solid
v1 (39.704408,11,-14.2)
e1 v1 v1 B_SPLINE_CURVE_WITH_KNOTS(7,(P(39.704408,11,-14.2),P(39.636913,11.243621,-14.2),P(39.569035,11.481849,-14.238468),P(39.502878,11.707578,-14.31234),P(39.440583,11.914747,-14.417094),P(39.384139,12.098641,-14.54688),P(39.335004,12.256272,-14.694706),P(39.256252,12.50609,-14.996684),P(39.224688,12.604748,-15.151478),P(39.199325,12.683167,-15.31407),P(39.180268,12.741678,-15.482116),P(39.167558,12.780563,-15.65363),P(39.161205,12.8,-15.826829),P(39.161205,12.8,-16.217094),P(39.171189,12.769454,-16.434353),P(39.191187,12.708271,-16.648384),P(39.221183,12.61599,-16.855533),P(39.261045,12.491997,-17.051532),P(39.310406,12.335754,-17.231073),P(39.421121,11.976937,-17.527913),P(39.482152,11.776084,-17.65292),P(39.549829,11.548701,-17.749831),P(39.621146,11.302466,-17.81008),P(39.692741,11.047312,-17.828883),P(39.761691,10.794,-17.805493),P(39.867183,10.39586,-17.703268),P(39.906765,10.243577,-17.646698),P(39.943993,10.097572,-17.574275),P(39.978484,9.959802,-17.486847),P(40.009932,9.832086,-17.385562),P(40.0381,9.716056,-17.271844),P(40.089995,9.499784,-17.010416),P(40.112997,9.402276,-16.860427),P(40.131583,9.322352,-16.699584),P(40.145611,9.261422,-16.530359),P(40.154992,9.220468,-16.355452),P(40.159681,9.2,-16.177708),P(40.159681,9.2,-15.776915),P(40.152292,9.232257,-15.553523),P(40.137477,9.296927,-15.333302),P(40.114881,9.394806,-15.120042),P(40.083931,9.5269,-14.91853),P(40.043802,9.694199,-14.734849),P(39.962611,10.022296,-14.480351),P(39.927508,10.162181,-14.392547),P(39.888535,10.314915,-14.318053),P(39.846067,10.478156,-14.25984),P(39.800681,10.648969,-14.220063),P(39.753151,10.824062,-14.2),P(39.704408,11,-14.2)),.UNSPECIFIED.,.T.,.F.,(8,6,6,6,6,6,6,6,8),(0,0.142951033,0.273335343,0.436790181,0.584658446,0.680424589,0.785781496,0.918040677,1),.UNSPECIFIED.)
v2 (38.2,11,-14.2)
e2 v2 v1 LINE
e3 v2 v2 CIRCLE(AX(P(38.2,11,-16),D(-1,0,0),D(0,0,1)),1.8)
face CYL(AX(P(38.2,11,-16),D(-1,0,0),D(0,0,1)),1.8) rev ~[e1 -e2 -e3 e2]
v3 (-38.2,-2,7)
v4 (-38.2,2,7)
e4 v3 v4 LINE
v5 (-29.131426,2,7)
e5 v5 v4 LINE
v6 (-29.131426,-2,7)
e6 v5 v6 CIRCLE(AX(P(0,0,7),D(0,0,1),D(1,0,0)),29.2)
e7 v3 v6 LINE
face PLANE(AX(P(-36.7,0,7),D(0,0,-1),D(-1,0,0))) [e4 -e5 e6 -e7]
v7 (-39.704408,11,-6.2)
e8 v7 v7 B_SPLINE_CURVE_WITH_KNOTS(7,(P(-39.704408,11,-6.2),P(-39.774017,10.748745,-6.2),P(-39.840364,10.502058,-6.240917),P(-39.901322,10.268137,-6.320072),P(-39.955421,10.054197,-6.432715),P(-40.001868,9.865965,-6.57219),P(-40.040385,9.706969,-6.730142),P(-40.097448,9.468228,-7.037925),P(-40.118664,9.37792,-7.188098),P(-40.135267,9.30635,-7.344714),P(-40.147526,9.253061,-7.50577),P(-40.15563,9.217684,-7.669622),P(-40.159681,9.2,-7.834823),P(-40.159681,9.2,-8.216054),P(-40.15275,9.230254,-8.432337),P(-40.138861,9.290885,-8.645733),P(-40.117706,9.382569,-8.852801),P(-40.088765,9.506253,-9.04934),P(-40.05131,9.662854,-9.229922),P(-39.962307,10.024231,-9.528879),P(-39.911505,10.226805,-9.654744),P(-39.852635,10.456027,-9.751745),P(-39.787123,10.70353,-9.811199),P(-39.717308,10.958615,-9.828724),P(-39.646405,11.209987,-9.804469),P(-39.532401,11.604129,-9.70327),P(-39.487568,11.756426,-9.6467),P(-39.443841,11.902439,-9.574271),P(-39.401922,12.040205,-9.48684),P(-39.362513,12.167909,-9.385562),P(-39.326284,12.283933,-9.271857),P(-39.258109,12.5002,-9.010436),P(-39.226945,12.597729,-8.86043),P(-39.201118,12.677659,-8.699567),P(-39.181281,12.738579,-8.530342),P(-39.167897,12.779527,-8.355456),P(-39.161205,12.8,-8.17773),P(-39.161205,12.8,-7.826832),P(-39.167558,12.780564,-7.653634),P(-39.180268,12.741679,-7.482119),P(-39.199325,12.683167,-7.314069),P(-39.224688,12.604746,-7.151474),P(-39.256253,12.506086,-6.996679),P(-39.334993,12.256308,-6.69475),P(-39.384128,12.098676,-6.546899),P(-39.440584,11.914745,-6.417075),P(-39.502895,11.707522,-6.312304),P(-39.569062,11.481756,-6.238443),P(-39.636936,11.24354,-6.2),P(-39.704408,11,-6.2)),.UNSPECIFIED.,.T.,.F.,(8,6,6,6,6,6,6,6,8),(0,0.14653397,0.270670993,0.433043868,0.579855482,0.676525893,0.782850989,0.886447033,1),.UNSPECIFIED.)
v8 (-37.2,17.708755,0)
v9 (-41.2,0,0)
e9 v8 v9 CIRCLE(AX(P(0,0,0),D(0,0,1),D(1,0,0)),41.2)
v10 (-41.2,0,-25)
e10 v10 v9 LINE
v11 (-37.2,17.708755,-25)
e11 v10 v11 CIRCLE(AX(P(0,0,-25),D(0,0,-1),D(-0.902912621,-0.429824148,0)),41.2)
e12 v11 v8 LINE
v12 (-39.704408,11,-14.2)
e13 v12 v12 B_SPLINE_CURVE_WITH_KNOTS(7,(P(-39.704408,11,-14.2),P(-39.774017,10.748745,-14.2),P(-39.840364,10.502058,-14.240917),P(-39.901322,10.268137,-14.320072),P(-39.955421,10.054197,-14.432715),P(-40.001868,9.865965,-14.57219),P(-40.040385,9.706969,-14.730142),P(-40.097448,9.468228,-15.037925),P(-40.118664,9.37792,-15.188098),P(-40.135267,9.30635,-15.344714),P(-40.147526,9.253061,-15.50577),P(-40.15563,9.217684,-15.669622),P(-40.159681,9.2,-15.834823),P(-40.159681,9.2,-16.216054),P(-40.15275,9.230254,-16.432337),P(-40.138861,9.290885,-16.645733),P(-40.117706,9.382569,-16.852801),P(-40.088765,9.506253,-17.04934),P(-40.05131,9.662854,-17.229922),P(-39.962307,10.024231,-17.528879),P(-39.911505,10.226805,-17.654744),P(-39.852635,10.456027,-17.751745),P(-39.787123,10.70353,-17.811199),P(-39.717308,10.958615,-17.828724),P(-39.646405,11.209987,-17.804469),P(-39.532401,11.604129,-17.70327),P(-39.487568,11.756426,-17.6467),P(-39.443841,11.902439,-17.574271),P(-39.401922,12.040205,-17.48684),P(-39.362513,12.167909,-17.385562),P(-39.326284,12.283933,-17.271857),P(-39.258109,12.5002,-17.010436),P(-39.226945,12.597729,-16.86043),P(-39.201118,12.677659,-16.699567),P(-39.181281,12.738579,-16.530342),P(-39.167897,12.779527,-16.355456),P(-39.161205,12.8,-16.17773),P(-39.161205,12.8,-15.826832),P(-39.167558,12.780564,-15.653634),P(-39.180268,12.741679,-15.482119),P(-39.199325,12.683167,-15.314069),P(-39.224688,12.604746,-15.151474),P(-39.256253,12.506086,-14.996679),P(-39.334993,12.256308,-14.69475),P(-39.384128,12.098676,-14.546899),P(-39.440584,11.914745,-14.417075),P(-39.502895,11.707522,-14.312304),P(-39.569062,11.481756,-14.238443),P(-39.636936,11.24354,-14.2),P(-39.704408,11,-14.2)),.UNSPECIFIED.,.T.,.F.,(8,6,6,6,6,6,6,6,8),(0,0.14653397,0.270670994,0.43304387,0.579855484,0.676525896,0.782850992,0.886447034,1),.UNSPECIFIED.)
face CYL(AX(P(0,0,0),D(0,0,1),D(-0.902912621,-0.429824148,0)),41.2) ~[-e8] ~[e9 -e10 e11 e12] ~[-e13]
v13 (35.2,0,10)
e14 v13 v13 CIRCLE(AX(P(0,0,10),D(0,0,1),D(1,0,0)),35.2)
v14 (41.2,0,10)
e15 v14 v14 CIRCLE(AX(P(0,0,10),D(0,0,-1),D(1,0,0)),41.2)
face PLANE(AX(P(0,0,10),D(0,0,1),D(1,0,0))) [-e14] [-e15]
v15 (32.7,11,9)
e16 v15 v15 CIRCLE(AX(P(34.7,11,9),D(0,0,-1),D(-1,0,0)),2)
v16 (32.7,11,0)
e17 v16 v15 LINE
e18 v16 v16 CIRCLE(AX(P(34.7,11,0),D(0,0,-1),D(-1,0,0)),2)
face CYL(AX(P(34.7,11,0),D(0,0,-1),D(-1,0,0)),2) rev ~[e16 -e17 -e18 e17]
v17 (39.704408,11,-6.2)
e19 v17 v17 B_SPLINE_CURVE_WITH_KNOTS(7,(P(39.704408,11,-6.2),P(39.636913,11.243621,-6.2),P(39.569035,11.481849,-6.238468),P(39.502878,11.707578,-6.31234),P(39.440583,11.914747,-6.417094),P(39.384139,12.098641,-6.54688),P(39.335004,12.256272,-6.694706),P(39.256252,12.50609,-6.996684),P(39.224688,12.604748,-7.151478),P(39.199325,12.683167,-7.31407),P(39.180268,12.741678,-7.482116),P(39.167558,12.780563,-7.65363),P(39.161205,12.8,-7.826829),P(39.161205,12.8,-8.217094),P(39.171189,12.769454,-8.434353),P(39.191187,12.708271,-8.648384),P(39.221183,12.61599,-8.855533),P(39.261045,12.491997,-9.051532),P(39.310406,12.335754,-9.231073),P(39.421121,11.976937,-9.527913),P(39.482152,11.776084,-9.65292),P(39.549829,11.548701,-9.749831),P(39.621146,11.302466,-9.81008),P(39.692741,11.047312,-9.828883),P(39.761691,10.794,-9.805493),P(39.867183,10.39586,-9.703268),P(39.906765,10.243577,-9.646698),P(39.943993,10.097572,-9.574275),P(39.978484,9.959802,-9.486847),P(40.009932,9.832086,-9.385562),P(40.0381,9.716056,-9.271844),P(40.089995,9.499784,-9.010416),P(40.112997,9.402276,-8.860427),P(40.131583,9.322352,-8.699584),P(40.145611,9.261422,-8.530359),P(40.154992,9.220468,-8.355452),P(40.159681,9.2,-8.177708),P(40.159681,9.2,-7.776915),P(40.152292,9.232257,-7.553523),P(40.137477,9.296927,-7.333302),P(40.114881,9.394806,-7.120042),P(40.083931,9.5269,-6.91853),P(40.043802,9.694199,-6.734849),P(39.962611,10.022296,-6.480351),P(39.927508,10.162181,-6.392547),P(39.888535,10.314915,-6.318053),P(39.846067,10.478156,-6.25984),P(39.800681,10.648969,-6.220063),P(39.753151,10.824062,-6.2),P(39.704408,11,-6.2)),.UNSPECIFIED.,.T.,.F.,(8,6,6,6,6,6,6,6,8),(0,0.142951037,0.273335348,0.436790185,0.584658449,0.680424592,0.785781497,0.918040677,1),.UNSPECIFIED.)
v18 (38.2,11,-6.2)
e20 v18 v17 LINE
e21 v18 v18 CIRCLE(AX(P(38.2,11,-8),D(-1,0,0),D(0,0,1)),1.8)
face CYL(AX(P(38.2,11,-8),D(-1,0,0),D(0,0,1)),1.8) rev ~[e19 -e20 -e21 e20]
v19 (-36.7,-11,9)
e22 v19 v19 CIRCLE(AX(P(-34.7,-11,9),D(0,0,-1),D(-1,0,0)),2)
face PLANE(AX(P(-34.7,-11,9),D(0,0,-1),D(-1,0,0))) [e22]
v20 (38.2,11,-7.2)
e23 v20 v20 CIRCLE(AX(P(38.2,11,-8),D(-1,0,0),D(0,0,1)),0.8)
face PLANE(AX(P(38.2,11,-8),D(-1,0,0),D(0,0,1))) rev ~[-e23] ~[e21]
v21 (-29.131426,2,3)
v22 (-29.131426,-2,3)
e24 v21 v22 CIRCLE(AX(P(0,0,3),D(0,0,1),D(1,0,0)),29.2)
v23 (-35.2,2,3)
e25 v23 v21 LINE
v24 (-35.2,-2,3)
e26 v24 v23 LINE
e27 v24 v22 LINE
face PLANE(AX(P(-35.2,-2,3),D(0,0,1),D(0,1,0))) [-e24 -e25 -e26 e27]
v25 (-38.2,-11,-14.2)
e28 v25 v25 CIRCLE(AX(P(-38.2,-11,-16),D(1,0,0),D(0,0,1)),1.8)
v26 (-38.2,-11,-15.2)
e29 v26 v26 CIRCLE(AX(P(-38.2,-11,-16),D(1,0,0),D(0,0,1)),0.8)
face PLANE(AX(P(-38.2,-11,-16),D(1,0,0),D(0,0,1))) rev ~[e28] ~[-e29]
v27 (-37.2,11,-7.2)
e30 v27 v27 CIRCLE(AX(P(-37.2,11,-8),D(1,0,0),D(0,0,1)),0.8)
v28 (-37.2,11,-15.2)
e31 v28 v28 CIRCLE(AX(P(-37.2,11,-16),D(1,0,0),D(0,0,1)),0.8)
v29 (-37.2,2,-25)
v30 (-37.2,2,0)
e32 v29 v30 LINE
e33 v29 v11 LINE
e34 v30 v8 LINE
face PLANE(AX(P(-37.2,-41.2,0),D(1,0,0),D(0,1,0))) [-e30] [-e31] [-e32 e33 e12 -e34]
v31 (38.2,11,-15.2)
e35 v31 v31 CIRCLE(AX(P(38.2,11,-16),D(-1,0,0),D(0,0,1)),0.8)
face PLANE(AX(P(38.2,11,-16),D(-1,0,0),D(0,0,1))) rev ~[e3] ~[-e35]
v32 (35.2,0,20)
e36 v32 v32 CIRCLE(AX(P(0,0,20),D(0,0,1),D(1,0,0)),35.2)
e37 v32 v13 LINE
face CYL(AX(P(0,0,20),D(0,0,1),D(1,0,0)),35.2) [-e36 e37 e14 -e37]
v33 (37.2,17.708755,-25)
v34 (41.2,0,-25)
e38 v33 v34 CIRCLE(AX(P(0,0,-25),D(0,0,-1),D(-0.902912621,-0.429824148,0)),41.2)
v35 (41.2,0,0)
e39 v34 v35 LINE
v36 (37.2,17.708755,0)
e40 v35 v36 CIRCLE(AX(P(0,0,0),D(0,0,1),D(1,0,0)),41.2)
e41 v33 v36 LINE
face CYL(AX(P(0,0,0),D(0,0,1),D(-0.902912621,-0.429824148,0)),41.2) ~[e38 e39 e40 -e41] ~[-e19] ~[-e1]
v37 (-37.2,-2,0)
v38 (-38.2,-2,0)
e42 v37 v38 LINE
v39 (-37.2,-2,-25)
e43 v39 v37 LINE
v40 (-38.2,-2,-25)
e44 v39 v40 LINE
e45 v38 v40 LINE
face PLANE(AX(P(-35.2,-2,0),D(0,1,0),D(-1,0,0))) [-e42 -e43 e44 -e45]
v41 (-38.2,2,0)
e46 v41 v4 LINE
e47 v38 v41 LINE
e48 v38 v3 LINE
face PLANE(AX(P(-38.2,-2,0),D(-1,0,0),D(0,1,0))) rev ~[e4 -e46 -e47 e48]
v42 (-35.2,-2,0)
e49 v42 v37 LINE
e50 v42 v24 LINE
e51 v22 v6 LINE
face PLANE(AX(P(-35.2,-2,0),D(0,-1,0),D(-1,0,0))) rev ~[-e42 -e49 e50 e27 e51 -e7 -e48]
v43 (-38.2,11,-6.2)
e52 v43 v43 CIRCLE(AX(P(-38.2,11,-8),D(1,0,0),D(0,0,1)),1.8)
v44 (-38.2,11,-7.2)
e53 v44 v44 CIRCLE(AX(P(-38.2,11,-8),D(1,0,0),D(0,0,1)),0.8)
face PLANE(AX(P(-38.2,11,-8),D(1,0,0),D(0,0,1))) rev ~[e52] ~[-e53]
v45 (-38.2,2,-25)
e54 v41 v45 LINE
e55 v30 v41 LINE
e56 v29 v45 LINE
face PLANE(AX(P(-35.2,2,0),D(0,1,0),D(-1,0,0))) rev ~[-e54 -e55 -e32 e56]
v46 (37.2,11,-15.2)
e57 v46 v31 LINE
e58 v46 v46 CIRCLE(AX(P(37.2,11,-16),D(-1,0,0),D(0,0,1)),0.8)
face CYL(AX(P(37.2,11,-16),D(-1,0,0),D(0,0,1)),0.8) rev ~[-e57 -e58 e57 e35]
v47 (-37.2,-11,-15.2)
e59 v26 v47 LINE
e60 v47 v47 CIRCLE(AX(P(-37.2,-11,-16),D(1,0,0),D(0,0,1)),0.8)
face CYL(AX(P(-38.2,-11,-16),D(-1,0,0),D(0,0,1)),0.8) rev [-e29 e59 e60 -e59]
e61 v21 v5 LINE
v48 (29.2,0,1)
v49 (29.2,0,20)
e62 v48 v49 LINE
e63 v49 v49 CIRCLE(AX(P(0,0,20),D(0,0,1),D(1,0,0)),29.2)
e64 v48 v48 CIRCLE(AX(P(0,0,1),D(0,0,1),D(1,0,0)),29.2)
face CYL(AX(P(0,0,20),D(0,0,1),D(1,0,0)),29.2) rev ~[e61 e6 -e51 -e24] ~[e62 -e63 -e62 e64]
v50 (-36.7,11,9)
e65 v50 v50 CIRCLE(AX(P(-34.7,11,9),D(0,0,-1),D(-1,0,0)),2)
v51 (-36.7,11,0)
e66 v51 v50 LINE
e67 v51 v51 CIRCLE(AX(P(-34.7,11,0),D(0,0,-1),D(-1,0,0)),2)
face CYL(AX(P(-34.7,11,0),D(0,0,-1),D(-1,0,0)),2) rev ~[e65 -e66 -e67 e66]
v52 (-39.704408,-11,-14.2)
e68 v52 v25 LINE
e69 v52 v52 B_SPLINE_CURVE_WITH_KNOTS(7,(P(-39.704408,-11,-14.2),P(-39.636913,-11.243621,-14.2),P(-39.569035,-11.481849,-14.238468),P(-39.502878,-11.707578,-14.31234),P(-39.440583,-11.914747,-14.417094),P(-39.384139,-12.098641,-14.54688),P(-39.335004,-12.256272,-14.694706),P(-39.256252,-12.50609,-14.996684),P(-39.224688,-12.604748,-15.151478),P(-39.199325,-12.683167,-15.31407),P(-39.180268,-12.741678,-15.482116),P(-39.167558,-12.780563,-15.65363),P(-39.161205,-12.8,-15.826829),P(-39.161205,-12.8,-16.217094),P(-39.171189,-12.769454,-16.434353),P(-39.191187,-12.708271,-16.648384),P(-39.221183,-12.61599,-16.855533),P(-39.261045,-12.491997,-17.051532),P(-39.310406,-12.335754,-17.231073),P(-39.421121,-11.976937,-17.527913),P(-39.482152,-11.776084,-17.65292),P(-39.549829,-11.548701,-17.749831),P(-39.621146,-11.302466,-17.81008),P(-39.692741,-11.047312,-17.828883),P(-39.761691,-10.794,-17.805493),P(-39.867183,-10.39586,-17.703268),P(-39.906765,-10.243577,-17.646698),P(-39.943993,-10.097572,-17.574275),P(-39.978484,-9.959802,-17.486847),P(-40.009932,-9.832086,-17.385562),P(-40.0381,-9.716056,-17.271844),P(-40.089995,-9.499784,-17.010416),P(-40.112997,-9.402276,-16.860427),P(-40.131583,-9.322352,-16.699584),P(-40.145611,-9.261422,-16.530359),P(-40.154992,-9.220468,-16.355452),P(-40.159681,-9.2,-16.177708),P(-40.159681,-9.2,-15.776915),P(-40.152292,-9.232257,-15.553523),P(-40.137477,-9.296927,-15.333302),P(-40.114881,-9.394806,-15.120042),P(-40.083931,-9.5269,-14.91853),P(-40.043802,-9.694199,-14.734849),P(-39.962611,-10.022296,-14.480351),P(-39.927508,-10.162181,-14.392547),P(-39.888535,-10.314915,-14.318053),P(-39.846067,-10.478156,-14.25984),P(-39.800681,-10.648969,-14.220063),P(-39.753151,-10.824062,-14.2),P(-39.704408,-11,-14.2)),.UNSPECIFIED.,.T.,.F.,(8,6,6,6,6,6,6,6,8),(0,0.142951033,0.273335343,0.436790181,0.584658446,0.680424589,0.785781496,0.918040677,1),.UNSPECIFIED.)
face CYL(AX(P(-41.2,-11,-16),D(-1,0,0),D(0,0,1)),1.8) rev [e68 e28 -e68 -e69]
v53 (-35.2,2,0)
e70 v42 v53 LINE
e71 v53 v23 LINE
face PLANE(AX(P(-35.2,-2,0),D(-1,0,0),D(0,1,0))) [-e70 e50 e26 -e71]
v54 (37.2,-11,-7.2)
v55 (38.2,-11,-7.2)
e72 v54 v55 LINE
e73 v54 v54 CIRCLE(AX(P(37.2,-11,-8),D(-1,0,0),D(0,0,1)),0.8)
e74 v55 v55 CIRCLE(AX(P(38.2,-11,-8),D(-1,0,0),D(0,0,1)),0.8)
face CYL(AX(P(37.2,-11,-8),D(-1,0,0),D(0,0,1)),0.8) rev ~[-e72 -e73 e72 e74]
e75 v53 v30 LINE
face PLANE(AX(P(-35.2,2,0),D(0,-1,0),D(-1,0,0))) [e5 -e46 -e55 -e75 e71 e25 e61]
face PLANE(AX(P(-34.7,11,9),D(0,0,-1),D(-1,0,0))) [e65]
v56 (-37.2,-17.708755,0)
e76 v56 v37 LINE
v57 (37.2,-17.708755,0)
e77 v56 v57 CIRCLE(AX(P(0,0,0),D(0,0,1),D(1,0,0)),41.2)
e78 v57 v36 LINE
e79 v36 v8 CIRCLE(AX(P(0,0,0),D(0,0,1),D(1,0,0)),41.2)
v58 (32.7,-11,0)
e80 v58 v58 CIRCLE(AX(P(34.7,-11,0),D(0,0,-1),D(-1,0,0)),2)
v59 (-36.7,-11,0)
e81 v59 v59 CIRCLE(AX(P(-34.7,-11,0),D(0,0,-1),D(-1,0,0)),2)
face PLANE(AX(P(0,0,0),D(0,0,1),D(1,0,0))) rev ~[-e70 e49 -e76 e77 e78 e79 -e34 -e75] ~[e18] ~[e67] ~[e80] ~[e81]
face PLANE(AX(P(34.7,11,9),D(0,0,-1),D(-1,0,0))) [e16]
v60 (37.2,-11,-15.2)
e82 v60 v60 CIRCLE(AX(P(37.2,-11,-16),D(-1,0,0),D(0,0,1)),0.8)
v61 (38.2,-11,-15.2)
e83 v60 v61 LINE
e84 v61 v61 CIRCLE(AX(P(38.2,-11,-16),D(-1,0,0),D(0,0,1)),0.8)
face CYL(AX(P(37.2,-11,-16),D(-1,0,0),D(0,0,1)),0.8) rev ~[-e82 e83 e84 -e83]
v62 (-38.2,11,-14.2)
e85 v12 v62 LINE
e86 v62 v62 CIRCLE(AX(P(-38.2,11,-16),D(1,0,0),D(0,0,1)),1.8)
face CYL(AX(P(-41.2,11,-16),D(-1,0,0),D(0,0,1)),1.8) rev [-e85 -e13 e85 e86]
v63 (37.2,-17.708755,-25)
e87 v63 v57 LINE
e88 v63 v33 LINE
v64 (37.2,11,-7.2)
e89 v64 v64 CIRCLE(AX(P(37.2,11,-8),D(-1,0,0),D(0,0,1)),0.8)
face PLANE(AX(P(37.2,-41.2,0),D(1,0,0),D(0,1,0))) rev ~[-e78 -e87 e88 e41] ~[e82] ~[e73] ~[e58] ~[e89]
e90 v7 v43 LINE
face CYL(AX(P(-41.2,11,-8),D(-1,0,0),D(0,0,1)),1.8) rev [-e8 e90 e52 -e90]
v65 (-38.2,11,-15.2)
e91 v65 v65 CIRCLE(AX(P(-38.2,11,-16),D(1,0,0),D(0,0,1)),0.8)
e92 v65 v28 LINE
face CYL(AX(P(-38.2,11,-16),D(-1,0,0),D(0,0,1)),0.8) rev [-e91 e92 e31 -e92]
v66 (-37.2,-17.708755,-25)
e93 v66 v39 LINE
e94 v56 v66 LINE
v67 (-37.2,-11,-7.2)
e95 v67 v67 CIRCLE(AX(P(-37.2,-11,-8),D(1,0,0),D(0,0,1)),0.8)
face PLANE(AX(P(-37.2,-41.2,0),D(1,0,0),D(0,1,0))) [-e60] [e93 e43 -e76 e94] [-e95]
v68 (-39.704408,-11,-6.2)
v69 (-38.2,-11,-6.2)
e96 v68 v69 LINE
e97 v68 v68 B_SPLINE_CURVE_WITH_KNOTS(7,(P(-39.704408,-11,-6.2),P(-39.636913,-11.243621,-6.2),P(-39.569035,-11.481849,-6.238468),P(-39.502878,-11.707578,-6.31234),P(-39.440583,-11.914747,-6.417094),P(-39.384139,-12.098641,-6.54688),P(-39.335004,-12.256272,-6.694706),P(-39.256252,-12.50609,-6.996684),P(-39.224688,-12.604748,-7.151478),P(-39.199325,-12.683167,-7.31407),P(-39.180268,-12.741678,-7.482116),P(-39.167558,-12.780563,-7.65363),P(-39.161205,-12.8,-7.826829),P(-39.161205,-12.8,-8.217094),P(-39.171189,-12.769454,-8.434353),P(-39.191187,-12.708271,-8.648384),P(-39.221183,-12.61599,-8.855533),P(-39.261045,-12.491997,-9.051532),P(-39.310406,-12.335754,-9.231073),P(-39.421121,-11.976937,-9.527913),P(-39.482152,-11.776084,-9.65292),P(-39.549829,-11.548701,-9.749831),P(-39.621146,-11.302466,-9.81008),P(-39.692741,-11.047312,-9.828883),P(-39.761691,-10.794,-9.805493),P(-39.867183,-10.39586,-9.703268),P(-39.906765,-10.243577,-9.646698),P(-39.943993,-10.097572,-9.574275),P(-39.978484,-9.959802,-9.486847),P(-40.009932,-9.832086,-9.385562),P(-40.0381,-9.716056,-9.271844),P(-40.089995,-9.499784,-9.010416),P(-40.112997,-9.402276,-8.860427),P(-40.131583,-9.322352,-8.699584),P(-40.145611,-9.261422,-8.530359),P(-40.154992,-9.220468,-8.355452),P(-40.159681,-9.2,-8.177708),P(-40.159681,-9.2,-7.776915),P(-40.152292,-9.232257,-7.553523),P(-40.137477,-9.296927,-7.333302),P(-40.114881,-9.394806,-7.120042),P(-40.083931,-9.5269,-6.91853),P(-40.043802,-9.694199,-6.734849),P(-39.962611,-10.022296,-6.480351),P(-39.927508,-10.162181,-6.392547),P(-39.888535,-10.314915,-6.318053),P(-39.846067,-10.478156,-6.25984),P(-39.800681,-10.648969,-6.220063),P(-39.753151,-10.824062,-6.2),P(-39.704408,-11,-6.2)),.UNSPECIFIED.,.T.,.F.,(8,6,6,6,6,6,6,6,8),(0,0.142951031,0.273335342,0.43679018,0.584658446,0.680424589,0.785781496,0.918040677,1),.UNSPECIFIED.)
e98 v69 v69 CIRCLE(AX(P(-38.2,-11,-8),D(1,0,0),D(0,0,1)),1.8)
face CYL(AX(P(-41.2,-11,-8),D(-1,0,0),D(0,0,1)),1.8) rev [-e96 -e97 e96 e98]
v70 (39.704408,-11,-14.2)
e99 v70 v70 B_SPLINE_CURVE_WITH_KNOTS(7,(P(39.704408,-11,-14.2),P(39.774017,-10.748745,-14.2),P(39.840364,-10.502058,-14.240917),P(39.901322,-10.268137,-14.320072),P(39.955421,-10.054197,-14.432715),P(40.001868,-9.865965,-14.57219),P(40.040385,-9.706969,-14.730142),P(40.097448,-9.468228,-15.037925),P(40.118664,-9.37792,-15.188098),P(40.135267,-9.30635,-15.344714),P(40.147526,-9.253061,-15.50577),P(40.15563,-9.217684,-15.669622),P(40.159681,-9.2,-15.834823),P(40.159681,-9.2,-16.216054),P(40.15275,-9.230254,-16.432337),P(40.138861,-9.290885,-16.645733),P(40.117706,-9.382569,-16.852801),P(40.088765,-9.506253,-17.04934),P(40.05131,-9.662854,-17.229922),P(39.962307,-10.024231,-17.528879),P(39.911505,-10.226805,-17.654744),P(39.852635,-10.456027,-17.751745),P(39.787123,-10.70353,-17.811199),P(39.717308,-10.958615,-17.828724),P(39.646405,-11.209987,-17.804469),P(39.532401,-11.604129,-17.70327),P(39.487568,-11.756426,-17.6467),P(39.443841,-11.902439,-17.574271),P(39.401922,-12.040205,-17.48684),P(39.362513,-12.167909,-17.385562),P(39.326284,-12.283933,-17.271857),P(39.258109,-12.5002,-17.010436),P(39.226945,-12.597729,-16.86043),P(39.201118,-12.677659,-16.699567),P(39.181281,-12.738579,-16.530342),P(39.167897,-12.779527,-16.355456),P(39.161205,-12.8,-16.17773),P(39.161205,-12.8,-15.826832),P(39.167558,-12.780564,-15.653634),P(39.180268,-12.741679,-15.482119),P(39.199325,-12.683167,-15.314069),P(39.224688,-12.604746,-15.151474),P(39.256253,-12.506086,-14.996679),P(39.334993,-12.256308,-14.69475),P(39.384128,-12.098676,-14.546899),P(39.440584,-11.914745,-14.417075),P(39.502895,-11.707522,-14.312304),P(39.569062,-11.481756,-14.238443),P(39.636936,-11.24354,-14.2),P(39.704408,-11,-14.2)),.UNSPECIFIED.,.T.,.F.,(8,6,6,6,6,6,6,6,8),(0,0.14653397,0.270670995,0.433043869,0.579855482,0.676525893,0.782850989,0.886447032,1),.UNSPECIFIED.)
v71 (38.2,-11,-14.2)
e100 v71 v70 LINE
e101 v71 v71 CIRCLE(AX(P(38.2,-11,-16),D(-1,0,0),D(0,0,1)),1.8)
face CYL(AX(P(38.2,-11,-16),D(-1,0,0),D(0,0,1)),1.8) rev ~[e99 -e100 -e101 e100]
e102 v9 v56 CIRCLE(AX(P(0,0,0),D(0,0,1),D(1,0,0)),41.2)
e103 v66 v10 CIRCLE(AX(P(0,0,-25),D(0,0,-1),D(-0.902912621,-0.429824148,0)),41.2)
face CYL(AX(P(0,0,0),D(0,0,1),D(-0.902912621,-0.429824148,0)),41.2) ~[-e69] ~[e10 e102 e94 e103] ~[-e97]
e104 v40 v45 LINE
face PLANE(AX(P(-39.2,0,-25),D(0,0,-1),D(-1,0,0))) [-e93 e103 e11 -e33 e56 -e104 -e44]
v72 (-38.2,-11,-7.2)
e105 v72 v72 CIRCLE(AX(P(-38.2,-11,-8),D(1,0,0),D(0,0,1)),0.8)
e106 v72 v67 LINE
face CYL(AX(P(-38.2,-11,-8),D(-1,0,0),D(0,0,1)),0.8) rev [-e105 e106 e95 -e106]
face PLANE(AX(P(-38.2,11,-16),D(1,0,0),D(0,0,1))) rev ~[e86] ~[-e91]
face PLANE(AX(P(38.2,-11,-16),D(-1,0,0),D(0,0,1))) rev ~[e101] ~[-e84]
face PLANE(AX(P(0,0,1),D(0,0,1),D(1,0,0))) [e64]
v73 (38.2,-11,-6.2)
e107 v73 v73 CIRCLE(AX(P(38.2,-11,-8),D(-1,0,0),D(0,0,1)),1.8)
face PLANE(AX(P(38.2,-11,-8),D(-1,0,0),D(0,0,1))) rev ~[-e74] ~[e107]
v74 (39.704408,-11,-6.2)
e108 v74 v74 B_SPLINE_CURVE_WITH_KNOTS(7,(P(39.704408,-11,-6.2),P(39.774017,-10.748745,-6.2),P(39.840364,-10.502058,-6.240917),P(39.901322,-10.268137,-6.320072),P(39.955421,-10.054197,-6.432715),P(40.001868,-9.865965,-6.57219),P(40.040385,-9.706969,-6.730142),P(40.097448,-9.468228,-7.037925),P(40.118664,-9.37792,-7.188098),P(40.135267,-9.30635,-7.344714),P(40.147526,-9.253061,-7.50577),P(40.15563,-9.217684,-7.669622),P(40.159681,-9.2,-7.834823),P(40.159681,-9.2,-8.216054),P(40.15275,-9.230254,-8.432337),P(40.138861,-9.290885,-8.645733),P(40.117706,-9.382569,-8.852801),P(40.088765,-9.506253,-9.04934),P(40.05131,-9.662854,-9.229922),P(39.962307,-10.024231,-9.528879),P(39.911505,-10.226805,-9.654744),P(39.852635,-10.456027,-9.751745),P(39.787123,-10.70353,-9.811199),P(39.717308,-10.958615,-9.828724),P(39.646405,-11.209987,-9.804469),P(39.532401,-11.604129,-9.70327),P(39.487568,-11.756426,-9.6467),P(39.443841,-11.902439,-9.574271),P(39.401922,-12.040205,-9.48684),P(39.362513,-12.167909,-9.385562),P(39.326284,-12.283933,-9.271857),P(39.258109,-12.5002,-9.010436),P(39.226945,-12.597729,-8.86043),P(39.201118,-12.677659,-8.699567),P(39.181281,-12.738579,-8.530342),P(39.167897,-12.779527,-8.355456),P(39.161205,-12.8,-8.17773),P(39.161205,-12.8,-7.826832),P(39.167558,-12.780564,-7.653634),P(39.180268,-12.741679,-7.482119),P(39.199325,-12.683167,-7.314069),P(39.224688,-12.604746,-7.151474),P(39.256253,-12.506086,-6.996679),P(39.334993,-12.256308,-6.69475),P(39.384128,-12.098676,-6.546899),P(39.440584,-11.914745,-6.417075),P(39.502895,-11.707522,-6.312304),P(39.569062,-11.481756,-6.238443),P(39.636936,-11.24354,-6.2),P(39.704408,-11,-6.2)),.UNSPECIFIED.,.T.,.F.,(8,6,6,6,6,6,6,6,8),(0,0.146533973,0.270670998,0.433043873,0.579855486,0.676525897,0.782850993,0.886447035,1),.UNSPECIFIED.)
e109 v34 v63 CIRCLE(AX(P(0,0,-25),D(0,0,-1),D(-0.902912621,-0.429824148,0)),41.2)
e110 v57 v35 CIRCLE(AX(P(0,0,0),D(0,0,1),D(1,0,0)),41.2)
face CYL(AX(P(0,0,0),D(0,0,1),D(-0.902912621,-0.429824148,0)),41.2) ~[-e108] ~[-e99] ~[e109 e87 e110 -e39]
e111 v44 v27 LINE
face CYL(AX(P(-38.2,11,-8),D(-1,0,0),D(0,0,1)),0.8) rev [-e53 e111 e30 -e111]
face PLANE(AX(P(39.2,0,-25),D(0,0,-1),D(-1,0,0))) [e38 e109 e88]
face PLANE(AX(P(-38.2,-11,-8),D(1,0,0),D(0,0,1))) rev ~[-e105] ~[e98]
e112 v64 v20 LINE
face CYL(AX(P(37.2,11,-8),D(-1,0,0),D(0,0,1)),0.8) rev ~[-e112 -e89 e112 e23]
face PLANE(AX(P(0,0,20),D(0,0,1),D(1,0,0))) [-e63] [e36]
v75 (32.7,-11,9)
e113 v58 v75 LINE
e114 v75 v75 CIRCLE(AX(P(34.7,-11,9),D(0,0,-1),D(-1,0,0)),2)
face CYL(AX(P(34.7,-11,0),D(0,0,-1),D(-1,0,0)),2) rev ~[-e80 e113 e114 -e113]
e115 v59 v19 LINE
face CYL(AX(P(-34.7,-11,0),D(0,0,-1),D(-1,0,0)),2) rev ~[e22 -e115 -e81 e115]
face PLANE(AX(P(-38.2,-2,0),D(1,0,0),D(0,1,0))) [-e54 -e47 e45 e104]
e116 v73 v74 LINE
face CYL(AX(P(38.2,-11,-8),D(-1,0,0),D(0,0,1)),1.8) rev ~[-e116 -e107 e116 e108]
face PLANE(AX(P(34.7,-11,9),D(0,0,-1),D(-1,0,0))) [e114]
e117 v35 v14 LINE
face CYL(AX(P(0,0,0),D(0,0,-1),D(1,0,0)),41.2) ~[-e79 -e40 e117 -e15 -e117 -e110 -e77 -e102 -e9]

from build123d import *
from build123d.topology import SkipClean

# Parameters (mm, degrees)
SKETCH_1_R           = 41.2
EXTRUDE_1_DEPTH      = 20
SKETCH_2_R           = 29.2
CUT_EXTRUDE_1_DEPTH  = 10
SKETCH_3_OUTSIDE_W   = 108.048
SKETCH_3_OUTSIDE_H   = 108.048
SKETCH_3_OUTSIDE_R   = 35.2
CUT_EXTRUDE_2_DEPTH  = 10
SKETCH_4_R           = 29.2
CUT_EXTRUDE_3_DEPTH  = 9
SKETCH_5_W           = 3
SKETCH_5_H           = 4
CUT_EXTRUDE_4_DEPTH  = 7
SKETCH_6_W           = 4
SKETCH_6_H           = 4
CUT_EXTRUDE_5_DEPTH  = 7
SKETCH_7_W           = 4
SKETCH_7_H           = 82.4
EXTRUDE_2_DEPTH      = 25
SKETCH_8_OUTSIDE_W   = 109.384
SKETCH_8_OUTSIDE_H   = 109.384
SKETCH_8_OUTSIDE_R   = 41.2
CUT_EXTRUDE_6_DEPTH  = 25
SKETCH_9_W           = 3
SKETCH_9_H           = 4
CUT_EXTRUDE_7_DEPTH  = 25
SKETCH_10_R          = 2
CUT_EXTRUDE_8_DEPTH  = 9
SKETCH_11_R          = 0.8
CUT_EXTRUDE_9_DEPTH  = 1
SKETCH_12_R          = 1.8
CUT_EXTRUDE_13_DEPTH = 3
CUT_EXTRUDE_START    = -1
SKETCH_13_R          = 0.8
CUT_EXTRUDE_14_DEPTH = 1
CUT_EXTRUDE_START_2  = -3
SKETCH_14_R          = 1.8
CUT_EXTRUDE_15_DEPTH = 3


with BuildPart() as part:
    # 草图1 → 凸台-拉伸1 (new body)
    with BuildSketch(Plane.XY):
        Circle(SKETCH_1_R)
    extrude(amount=EXTRUDE_1_DEPTH)

    # 草图2 → 切除-拉伸1 (cut)
    with BuildSketch(Plane.XY.offset(20)):
        Circle(SKETCH_2_R)
    extrude(amount=-CUT_EXTRUDE_1_DEPTH, mode=Mode.SUBTRACT)

    # 草图3 outside → 切除-拉伸2 (cut)
    with BuildSketch(Plane.XY.offset(20)):
        Rectangle(SKETCH_3_OUTSIDE_W, SKETCH_3_OUTSIDE_H)
        Circle(SKETCH_3_OUTSIDE_R, mode=Mode.SUBTRACT)
    extrude(amount=-CUT_EXTRUDE_2_DEPTH, mode=Mode.SUBTRACT)

    # 草图4 → 切除-拉伸3 (cut)
    with BuildSketch(Plane.XY.offset(10)):
        Circle(SKETCH_4_R)
    extrude(amount=-CUT_EXTRUDE_3_DEPTH, mode=Mode.SUBTRACT)

    # 草图5 → 切除-拉伸4 (cut)
    with BuildSketch(Plane(origin=(0, 0, 0), x_dir=(-1, 0, 0), z_dir=(0, 0, -1))):
        with Locations((36.7, 0)):
            Rectangle(SKETCH_5_W, SKETCH_5_H)
    extrude(amount=-CUT_EXTRUDE_4_DEPTH, mode=Mode.SUBTRACT)

    # 草图6 → 切除-拉伸5 (cut)
    with BuildSketch(Plane.ZY.offset(35.2)):
        with Locations((5, 0)):
            Rectangle(SKETCH_6_W, SKETCH_6_H)
    extrude(amount=-CUT_EXTRUDE_5_DEPTH, mode=Mode.SUBTRACT)

    # 草图7 → 凸台-拉伸2 (add)
    with BuildSketch(Plane(origin=(0, 0, 0), x_dir=(-1, 0, 0), z_dir=(0, 0, -1))):
        with Locations((39.2, 0)):
            Rectangle(SKETCH_7_W, SKETCH_7_H)
        with Locations((-39.2, 0)):
            Rectangle(SKETCH_7_W, SKETCH_7_H)
    extrude(amount=EXTRUDE_2_DEPTH)

    # 草图8 outside → 切除-拉伸6 (cut)
    with SkipClean():  # the faces are left unmerged after this step: merging them gives an invalid solid
        with BuildSketch(Plane(origin=(0, 0, 0), x_dir=(-1, 0, 0), z_dir=(0, 0, -1))):
            Rectangle(SKETCH_8_OUTSIDE_W, SKETCH_8_OUTSIDE_H)
            with Locations(Location((0, 0, 0), (0, 0, 334.543599349))):
                Circle(SKETCH_8_OUTSIDE_R, mode=Mode.SUBTRACT)
        extrude(amount=CUT_EXTRUDE_6_DEPTH, mode=Mode.SUBTRACT)

    # 草图9 → 切除-拉伸7 (cut)
    with SkipClean():  # the faces are left unmerged after this step: merging them gives an invalid solid
        with BuildSketch(Plane(origin=(0, 0, 0), x_dir=(-1, 0, 0), z_dir=(0, 0, -1))):
            with Locations((36.7, 0)):
                Rectangle(SKETCH_9_W, SKETCH_9_H)
        extrude(amount=CUT_EXTRUDE_7_DEPTH, mode=Mode.SUBTRACT)

    # 草图10 → 切除-拉伸8 (cut)
    with SkipClean():  # the faces are left unmerged after this step: merging them gives an invalid solid
        with BuildSketch(Plane(origin=(0, 0, 0), x_dir=(-1, 0, 0), z_dir=(0, 0, -1))):
            with Locations((34.7, 11)):
                Circle(SKETCH_10_R)
            with Locations((34.7, -11)):
                Circle(SKETCH_10_R)
            with Locations((-34.7, 11)):
                Circle(SKETCH_10_R)
            with Locations((-34.7, -11)):
                Circle(SKETCH_10_R)
        extrude(amount=-CUT_EXTRUDE_8_DEPTH, mode=Mode.SUBTRACT)

    # 草图11 → 切除-拉伸9 (cut)
    with SkipClean():  # the faces are left unmerged after this step: merging them gives an invalid solid
        with BuildSketch(Plane.ZY.offset(-37.2)):
            with Locations((-16, -11)):
                Circle(SKETCH_11_R)
            with Locations((-8, -11)):
                Circle(SKETCH_11_R)
            with Locations((-16, 11)):
                Circle(SKETCH_11_R)
            with Locations((-8, 11)):
                Circle(SKETCH_11_R)
        extrude(amount=-CUT_EXTRUDE_9_DEPTH, mode=Mode.SUBTRACT)

    # 草图12 → 切除-拉伸13 (cut)
    with SkipClean():  # the faces are left unmerged after this step: merging them gives an invalid solid
        with BuildSketch(Plane.ZY.offset(-38.2)):
            with Locations((-16, -11)):
                Circle(SKETCH_12_R)
            with Locations((-8, -11)):
                Circle(SKETCH_12_R)
            with Locations((-16, 11)):
                Circle(SKETCH_12_R)
            with Locations((-8, 11)):
                Circle(SKETCH_12_R)
        extrude(amount=-CUT_EXTRUDE_13_DEPTH, mode=Mode.SUBTRACT)

    # 草图13 → 切除-拉伸14 (cut)
    with SkipClean():  # the faces are left unmerged after this step: merging them gives an invalid solid
        with BuildSketch(Plane(origin=(-37.2, 0, 0), x_dir=(0, 0, -1), z_dir=(1, 0, 0)).offset(CUT_EXTRUDE_START)):
            with Locations(Location((8, 11, 0), (0, 0, 180))):
                Circle(SKETCH_13_R)
            with Locations(Location((16, 11, 0), (0, 0, 180))):
                Circle(SKETCH_13_R)
            with Locations(Location((8, -11, 0), (0, 0, 180))):
                Circle(SKETCH_13_R)
            with Locations(Location((16, -11, 0), (0, 0, 180))):
                Circle(SKETCH_13_R)
        extrude(amount=CUT_EXTRUDE_14_DEPTH, mode=Mode.SUBTRACT)

    # 草图14 → 切除-拉伸15 (cut)
    with SkipClean():  # the faces are left unmerged after this step: merging them gives an invalid solid
        with BuildSketch(Plane(origin=(-38.2, 0, 0), x_dir=(0, 0, -1), z_dir=(1, 0, 0)).offset(CUT_EXTRUDE_START_2)):
            with Locations(Location((8, 11, 0), (0, 0, 180))):
                Circle(SKETCH_14_R)
            with Locations(Location((16, 11, 0), (0, 0, 180))):
                Circle(SKETCH_14_R)
            with Locations(Location((8, -11, 0), (0, 0, 180))):
                Circle(SKETCH_14_R)
            with Locations(Location((16, -11, 0), (0, 0, 180))):
                Circle(SKETCH_14_R)
        extrude(amount=CUT_EXTRUDE_15_DEPTH, mode=Mode.SUBTRACT)


solid = part.part
